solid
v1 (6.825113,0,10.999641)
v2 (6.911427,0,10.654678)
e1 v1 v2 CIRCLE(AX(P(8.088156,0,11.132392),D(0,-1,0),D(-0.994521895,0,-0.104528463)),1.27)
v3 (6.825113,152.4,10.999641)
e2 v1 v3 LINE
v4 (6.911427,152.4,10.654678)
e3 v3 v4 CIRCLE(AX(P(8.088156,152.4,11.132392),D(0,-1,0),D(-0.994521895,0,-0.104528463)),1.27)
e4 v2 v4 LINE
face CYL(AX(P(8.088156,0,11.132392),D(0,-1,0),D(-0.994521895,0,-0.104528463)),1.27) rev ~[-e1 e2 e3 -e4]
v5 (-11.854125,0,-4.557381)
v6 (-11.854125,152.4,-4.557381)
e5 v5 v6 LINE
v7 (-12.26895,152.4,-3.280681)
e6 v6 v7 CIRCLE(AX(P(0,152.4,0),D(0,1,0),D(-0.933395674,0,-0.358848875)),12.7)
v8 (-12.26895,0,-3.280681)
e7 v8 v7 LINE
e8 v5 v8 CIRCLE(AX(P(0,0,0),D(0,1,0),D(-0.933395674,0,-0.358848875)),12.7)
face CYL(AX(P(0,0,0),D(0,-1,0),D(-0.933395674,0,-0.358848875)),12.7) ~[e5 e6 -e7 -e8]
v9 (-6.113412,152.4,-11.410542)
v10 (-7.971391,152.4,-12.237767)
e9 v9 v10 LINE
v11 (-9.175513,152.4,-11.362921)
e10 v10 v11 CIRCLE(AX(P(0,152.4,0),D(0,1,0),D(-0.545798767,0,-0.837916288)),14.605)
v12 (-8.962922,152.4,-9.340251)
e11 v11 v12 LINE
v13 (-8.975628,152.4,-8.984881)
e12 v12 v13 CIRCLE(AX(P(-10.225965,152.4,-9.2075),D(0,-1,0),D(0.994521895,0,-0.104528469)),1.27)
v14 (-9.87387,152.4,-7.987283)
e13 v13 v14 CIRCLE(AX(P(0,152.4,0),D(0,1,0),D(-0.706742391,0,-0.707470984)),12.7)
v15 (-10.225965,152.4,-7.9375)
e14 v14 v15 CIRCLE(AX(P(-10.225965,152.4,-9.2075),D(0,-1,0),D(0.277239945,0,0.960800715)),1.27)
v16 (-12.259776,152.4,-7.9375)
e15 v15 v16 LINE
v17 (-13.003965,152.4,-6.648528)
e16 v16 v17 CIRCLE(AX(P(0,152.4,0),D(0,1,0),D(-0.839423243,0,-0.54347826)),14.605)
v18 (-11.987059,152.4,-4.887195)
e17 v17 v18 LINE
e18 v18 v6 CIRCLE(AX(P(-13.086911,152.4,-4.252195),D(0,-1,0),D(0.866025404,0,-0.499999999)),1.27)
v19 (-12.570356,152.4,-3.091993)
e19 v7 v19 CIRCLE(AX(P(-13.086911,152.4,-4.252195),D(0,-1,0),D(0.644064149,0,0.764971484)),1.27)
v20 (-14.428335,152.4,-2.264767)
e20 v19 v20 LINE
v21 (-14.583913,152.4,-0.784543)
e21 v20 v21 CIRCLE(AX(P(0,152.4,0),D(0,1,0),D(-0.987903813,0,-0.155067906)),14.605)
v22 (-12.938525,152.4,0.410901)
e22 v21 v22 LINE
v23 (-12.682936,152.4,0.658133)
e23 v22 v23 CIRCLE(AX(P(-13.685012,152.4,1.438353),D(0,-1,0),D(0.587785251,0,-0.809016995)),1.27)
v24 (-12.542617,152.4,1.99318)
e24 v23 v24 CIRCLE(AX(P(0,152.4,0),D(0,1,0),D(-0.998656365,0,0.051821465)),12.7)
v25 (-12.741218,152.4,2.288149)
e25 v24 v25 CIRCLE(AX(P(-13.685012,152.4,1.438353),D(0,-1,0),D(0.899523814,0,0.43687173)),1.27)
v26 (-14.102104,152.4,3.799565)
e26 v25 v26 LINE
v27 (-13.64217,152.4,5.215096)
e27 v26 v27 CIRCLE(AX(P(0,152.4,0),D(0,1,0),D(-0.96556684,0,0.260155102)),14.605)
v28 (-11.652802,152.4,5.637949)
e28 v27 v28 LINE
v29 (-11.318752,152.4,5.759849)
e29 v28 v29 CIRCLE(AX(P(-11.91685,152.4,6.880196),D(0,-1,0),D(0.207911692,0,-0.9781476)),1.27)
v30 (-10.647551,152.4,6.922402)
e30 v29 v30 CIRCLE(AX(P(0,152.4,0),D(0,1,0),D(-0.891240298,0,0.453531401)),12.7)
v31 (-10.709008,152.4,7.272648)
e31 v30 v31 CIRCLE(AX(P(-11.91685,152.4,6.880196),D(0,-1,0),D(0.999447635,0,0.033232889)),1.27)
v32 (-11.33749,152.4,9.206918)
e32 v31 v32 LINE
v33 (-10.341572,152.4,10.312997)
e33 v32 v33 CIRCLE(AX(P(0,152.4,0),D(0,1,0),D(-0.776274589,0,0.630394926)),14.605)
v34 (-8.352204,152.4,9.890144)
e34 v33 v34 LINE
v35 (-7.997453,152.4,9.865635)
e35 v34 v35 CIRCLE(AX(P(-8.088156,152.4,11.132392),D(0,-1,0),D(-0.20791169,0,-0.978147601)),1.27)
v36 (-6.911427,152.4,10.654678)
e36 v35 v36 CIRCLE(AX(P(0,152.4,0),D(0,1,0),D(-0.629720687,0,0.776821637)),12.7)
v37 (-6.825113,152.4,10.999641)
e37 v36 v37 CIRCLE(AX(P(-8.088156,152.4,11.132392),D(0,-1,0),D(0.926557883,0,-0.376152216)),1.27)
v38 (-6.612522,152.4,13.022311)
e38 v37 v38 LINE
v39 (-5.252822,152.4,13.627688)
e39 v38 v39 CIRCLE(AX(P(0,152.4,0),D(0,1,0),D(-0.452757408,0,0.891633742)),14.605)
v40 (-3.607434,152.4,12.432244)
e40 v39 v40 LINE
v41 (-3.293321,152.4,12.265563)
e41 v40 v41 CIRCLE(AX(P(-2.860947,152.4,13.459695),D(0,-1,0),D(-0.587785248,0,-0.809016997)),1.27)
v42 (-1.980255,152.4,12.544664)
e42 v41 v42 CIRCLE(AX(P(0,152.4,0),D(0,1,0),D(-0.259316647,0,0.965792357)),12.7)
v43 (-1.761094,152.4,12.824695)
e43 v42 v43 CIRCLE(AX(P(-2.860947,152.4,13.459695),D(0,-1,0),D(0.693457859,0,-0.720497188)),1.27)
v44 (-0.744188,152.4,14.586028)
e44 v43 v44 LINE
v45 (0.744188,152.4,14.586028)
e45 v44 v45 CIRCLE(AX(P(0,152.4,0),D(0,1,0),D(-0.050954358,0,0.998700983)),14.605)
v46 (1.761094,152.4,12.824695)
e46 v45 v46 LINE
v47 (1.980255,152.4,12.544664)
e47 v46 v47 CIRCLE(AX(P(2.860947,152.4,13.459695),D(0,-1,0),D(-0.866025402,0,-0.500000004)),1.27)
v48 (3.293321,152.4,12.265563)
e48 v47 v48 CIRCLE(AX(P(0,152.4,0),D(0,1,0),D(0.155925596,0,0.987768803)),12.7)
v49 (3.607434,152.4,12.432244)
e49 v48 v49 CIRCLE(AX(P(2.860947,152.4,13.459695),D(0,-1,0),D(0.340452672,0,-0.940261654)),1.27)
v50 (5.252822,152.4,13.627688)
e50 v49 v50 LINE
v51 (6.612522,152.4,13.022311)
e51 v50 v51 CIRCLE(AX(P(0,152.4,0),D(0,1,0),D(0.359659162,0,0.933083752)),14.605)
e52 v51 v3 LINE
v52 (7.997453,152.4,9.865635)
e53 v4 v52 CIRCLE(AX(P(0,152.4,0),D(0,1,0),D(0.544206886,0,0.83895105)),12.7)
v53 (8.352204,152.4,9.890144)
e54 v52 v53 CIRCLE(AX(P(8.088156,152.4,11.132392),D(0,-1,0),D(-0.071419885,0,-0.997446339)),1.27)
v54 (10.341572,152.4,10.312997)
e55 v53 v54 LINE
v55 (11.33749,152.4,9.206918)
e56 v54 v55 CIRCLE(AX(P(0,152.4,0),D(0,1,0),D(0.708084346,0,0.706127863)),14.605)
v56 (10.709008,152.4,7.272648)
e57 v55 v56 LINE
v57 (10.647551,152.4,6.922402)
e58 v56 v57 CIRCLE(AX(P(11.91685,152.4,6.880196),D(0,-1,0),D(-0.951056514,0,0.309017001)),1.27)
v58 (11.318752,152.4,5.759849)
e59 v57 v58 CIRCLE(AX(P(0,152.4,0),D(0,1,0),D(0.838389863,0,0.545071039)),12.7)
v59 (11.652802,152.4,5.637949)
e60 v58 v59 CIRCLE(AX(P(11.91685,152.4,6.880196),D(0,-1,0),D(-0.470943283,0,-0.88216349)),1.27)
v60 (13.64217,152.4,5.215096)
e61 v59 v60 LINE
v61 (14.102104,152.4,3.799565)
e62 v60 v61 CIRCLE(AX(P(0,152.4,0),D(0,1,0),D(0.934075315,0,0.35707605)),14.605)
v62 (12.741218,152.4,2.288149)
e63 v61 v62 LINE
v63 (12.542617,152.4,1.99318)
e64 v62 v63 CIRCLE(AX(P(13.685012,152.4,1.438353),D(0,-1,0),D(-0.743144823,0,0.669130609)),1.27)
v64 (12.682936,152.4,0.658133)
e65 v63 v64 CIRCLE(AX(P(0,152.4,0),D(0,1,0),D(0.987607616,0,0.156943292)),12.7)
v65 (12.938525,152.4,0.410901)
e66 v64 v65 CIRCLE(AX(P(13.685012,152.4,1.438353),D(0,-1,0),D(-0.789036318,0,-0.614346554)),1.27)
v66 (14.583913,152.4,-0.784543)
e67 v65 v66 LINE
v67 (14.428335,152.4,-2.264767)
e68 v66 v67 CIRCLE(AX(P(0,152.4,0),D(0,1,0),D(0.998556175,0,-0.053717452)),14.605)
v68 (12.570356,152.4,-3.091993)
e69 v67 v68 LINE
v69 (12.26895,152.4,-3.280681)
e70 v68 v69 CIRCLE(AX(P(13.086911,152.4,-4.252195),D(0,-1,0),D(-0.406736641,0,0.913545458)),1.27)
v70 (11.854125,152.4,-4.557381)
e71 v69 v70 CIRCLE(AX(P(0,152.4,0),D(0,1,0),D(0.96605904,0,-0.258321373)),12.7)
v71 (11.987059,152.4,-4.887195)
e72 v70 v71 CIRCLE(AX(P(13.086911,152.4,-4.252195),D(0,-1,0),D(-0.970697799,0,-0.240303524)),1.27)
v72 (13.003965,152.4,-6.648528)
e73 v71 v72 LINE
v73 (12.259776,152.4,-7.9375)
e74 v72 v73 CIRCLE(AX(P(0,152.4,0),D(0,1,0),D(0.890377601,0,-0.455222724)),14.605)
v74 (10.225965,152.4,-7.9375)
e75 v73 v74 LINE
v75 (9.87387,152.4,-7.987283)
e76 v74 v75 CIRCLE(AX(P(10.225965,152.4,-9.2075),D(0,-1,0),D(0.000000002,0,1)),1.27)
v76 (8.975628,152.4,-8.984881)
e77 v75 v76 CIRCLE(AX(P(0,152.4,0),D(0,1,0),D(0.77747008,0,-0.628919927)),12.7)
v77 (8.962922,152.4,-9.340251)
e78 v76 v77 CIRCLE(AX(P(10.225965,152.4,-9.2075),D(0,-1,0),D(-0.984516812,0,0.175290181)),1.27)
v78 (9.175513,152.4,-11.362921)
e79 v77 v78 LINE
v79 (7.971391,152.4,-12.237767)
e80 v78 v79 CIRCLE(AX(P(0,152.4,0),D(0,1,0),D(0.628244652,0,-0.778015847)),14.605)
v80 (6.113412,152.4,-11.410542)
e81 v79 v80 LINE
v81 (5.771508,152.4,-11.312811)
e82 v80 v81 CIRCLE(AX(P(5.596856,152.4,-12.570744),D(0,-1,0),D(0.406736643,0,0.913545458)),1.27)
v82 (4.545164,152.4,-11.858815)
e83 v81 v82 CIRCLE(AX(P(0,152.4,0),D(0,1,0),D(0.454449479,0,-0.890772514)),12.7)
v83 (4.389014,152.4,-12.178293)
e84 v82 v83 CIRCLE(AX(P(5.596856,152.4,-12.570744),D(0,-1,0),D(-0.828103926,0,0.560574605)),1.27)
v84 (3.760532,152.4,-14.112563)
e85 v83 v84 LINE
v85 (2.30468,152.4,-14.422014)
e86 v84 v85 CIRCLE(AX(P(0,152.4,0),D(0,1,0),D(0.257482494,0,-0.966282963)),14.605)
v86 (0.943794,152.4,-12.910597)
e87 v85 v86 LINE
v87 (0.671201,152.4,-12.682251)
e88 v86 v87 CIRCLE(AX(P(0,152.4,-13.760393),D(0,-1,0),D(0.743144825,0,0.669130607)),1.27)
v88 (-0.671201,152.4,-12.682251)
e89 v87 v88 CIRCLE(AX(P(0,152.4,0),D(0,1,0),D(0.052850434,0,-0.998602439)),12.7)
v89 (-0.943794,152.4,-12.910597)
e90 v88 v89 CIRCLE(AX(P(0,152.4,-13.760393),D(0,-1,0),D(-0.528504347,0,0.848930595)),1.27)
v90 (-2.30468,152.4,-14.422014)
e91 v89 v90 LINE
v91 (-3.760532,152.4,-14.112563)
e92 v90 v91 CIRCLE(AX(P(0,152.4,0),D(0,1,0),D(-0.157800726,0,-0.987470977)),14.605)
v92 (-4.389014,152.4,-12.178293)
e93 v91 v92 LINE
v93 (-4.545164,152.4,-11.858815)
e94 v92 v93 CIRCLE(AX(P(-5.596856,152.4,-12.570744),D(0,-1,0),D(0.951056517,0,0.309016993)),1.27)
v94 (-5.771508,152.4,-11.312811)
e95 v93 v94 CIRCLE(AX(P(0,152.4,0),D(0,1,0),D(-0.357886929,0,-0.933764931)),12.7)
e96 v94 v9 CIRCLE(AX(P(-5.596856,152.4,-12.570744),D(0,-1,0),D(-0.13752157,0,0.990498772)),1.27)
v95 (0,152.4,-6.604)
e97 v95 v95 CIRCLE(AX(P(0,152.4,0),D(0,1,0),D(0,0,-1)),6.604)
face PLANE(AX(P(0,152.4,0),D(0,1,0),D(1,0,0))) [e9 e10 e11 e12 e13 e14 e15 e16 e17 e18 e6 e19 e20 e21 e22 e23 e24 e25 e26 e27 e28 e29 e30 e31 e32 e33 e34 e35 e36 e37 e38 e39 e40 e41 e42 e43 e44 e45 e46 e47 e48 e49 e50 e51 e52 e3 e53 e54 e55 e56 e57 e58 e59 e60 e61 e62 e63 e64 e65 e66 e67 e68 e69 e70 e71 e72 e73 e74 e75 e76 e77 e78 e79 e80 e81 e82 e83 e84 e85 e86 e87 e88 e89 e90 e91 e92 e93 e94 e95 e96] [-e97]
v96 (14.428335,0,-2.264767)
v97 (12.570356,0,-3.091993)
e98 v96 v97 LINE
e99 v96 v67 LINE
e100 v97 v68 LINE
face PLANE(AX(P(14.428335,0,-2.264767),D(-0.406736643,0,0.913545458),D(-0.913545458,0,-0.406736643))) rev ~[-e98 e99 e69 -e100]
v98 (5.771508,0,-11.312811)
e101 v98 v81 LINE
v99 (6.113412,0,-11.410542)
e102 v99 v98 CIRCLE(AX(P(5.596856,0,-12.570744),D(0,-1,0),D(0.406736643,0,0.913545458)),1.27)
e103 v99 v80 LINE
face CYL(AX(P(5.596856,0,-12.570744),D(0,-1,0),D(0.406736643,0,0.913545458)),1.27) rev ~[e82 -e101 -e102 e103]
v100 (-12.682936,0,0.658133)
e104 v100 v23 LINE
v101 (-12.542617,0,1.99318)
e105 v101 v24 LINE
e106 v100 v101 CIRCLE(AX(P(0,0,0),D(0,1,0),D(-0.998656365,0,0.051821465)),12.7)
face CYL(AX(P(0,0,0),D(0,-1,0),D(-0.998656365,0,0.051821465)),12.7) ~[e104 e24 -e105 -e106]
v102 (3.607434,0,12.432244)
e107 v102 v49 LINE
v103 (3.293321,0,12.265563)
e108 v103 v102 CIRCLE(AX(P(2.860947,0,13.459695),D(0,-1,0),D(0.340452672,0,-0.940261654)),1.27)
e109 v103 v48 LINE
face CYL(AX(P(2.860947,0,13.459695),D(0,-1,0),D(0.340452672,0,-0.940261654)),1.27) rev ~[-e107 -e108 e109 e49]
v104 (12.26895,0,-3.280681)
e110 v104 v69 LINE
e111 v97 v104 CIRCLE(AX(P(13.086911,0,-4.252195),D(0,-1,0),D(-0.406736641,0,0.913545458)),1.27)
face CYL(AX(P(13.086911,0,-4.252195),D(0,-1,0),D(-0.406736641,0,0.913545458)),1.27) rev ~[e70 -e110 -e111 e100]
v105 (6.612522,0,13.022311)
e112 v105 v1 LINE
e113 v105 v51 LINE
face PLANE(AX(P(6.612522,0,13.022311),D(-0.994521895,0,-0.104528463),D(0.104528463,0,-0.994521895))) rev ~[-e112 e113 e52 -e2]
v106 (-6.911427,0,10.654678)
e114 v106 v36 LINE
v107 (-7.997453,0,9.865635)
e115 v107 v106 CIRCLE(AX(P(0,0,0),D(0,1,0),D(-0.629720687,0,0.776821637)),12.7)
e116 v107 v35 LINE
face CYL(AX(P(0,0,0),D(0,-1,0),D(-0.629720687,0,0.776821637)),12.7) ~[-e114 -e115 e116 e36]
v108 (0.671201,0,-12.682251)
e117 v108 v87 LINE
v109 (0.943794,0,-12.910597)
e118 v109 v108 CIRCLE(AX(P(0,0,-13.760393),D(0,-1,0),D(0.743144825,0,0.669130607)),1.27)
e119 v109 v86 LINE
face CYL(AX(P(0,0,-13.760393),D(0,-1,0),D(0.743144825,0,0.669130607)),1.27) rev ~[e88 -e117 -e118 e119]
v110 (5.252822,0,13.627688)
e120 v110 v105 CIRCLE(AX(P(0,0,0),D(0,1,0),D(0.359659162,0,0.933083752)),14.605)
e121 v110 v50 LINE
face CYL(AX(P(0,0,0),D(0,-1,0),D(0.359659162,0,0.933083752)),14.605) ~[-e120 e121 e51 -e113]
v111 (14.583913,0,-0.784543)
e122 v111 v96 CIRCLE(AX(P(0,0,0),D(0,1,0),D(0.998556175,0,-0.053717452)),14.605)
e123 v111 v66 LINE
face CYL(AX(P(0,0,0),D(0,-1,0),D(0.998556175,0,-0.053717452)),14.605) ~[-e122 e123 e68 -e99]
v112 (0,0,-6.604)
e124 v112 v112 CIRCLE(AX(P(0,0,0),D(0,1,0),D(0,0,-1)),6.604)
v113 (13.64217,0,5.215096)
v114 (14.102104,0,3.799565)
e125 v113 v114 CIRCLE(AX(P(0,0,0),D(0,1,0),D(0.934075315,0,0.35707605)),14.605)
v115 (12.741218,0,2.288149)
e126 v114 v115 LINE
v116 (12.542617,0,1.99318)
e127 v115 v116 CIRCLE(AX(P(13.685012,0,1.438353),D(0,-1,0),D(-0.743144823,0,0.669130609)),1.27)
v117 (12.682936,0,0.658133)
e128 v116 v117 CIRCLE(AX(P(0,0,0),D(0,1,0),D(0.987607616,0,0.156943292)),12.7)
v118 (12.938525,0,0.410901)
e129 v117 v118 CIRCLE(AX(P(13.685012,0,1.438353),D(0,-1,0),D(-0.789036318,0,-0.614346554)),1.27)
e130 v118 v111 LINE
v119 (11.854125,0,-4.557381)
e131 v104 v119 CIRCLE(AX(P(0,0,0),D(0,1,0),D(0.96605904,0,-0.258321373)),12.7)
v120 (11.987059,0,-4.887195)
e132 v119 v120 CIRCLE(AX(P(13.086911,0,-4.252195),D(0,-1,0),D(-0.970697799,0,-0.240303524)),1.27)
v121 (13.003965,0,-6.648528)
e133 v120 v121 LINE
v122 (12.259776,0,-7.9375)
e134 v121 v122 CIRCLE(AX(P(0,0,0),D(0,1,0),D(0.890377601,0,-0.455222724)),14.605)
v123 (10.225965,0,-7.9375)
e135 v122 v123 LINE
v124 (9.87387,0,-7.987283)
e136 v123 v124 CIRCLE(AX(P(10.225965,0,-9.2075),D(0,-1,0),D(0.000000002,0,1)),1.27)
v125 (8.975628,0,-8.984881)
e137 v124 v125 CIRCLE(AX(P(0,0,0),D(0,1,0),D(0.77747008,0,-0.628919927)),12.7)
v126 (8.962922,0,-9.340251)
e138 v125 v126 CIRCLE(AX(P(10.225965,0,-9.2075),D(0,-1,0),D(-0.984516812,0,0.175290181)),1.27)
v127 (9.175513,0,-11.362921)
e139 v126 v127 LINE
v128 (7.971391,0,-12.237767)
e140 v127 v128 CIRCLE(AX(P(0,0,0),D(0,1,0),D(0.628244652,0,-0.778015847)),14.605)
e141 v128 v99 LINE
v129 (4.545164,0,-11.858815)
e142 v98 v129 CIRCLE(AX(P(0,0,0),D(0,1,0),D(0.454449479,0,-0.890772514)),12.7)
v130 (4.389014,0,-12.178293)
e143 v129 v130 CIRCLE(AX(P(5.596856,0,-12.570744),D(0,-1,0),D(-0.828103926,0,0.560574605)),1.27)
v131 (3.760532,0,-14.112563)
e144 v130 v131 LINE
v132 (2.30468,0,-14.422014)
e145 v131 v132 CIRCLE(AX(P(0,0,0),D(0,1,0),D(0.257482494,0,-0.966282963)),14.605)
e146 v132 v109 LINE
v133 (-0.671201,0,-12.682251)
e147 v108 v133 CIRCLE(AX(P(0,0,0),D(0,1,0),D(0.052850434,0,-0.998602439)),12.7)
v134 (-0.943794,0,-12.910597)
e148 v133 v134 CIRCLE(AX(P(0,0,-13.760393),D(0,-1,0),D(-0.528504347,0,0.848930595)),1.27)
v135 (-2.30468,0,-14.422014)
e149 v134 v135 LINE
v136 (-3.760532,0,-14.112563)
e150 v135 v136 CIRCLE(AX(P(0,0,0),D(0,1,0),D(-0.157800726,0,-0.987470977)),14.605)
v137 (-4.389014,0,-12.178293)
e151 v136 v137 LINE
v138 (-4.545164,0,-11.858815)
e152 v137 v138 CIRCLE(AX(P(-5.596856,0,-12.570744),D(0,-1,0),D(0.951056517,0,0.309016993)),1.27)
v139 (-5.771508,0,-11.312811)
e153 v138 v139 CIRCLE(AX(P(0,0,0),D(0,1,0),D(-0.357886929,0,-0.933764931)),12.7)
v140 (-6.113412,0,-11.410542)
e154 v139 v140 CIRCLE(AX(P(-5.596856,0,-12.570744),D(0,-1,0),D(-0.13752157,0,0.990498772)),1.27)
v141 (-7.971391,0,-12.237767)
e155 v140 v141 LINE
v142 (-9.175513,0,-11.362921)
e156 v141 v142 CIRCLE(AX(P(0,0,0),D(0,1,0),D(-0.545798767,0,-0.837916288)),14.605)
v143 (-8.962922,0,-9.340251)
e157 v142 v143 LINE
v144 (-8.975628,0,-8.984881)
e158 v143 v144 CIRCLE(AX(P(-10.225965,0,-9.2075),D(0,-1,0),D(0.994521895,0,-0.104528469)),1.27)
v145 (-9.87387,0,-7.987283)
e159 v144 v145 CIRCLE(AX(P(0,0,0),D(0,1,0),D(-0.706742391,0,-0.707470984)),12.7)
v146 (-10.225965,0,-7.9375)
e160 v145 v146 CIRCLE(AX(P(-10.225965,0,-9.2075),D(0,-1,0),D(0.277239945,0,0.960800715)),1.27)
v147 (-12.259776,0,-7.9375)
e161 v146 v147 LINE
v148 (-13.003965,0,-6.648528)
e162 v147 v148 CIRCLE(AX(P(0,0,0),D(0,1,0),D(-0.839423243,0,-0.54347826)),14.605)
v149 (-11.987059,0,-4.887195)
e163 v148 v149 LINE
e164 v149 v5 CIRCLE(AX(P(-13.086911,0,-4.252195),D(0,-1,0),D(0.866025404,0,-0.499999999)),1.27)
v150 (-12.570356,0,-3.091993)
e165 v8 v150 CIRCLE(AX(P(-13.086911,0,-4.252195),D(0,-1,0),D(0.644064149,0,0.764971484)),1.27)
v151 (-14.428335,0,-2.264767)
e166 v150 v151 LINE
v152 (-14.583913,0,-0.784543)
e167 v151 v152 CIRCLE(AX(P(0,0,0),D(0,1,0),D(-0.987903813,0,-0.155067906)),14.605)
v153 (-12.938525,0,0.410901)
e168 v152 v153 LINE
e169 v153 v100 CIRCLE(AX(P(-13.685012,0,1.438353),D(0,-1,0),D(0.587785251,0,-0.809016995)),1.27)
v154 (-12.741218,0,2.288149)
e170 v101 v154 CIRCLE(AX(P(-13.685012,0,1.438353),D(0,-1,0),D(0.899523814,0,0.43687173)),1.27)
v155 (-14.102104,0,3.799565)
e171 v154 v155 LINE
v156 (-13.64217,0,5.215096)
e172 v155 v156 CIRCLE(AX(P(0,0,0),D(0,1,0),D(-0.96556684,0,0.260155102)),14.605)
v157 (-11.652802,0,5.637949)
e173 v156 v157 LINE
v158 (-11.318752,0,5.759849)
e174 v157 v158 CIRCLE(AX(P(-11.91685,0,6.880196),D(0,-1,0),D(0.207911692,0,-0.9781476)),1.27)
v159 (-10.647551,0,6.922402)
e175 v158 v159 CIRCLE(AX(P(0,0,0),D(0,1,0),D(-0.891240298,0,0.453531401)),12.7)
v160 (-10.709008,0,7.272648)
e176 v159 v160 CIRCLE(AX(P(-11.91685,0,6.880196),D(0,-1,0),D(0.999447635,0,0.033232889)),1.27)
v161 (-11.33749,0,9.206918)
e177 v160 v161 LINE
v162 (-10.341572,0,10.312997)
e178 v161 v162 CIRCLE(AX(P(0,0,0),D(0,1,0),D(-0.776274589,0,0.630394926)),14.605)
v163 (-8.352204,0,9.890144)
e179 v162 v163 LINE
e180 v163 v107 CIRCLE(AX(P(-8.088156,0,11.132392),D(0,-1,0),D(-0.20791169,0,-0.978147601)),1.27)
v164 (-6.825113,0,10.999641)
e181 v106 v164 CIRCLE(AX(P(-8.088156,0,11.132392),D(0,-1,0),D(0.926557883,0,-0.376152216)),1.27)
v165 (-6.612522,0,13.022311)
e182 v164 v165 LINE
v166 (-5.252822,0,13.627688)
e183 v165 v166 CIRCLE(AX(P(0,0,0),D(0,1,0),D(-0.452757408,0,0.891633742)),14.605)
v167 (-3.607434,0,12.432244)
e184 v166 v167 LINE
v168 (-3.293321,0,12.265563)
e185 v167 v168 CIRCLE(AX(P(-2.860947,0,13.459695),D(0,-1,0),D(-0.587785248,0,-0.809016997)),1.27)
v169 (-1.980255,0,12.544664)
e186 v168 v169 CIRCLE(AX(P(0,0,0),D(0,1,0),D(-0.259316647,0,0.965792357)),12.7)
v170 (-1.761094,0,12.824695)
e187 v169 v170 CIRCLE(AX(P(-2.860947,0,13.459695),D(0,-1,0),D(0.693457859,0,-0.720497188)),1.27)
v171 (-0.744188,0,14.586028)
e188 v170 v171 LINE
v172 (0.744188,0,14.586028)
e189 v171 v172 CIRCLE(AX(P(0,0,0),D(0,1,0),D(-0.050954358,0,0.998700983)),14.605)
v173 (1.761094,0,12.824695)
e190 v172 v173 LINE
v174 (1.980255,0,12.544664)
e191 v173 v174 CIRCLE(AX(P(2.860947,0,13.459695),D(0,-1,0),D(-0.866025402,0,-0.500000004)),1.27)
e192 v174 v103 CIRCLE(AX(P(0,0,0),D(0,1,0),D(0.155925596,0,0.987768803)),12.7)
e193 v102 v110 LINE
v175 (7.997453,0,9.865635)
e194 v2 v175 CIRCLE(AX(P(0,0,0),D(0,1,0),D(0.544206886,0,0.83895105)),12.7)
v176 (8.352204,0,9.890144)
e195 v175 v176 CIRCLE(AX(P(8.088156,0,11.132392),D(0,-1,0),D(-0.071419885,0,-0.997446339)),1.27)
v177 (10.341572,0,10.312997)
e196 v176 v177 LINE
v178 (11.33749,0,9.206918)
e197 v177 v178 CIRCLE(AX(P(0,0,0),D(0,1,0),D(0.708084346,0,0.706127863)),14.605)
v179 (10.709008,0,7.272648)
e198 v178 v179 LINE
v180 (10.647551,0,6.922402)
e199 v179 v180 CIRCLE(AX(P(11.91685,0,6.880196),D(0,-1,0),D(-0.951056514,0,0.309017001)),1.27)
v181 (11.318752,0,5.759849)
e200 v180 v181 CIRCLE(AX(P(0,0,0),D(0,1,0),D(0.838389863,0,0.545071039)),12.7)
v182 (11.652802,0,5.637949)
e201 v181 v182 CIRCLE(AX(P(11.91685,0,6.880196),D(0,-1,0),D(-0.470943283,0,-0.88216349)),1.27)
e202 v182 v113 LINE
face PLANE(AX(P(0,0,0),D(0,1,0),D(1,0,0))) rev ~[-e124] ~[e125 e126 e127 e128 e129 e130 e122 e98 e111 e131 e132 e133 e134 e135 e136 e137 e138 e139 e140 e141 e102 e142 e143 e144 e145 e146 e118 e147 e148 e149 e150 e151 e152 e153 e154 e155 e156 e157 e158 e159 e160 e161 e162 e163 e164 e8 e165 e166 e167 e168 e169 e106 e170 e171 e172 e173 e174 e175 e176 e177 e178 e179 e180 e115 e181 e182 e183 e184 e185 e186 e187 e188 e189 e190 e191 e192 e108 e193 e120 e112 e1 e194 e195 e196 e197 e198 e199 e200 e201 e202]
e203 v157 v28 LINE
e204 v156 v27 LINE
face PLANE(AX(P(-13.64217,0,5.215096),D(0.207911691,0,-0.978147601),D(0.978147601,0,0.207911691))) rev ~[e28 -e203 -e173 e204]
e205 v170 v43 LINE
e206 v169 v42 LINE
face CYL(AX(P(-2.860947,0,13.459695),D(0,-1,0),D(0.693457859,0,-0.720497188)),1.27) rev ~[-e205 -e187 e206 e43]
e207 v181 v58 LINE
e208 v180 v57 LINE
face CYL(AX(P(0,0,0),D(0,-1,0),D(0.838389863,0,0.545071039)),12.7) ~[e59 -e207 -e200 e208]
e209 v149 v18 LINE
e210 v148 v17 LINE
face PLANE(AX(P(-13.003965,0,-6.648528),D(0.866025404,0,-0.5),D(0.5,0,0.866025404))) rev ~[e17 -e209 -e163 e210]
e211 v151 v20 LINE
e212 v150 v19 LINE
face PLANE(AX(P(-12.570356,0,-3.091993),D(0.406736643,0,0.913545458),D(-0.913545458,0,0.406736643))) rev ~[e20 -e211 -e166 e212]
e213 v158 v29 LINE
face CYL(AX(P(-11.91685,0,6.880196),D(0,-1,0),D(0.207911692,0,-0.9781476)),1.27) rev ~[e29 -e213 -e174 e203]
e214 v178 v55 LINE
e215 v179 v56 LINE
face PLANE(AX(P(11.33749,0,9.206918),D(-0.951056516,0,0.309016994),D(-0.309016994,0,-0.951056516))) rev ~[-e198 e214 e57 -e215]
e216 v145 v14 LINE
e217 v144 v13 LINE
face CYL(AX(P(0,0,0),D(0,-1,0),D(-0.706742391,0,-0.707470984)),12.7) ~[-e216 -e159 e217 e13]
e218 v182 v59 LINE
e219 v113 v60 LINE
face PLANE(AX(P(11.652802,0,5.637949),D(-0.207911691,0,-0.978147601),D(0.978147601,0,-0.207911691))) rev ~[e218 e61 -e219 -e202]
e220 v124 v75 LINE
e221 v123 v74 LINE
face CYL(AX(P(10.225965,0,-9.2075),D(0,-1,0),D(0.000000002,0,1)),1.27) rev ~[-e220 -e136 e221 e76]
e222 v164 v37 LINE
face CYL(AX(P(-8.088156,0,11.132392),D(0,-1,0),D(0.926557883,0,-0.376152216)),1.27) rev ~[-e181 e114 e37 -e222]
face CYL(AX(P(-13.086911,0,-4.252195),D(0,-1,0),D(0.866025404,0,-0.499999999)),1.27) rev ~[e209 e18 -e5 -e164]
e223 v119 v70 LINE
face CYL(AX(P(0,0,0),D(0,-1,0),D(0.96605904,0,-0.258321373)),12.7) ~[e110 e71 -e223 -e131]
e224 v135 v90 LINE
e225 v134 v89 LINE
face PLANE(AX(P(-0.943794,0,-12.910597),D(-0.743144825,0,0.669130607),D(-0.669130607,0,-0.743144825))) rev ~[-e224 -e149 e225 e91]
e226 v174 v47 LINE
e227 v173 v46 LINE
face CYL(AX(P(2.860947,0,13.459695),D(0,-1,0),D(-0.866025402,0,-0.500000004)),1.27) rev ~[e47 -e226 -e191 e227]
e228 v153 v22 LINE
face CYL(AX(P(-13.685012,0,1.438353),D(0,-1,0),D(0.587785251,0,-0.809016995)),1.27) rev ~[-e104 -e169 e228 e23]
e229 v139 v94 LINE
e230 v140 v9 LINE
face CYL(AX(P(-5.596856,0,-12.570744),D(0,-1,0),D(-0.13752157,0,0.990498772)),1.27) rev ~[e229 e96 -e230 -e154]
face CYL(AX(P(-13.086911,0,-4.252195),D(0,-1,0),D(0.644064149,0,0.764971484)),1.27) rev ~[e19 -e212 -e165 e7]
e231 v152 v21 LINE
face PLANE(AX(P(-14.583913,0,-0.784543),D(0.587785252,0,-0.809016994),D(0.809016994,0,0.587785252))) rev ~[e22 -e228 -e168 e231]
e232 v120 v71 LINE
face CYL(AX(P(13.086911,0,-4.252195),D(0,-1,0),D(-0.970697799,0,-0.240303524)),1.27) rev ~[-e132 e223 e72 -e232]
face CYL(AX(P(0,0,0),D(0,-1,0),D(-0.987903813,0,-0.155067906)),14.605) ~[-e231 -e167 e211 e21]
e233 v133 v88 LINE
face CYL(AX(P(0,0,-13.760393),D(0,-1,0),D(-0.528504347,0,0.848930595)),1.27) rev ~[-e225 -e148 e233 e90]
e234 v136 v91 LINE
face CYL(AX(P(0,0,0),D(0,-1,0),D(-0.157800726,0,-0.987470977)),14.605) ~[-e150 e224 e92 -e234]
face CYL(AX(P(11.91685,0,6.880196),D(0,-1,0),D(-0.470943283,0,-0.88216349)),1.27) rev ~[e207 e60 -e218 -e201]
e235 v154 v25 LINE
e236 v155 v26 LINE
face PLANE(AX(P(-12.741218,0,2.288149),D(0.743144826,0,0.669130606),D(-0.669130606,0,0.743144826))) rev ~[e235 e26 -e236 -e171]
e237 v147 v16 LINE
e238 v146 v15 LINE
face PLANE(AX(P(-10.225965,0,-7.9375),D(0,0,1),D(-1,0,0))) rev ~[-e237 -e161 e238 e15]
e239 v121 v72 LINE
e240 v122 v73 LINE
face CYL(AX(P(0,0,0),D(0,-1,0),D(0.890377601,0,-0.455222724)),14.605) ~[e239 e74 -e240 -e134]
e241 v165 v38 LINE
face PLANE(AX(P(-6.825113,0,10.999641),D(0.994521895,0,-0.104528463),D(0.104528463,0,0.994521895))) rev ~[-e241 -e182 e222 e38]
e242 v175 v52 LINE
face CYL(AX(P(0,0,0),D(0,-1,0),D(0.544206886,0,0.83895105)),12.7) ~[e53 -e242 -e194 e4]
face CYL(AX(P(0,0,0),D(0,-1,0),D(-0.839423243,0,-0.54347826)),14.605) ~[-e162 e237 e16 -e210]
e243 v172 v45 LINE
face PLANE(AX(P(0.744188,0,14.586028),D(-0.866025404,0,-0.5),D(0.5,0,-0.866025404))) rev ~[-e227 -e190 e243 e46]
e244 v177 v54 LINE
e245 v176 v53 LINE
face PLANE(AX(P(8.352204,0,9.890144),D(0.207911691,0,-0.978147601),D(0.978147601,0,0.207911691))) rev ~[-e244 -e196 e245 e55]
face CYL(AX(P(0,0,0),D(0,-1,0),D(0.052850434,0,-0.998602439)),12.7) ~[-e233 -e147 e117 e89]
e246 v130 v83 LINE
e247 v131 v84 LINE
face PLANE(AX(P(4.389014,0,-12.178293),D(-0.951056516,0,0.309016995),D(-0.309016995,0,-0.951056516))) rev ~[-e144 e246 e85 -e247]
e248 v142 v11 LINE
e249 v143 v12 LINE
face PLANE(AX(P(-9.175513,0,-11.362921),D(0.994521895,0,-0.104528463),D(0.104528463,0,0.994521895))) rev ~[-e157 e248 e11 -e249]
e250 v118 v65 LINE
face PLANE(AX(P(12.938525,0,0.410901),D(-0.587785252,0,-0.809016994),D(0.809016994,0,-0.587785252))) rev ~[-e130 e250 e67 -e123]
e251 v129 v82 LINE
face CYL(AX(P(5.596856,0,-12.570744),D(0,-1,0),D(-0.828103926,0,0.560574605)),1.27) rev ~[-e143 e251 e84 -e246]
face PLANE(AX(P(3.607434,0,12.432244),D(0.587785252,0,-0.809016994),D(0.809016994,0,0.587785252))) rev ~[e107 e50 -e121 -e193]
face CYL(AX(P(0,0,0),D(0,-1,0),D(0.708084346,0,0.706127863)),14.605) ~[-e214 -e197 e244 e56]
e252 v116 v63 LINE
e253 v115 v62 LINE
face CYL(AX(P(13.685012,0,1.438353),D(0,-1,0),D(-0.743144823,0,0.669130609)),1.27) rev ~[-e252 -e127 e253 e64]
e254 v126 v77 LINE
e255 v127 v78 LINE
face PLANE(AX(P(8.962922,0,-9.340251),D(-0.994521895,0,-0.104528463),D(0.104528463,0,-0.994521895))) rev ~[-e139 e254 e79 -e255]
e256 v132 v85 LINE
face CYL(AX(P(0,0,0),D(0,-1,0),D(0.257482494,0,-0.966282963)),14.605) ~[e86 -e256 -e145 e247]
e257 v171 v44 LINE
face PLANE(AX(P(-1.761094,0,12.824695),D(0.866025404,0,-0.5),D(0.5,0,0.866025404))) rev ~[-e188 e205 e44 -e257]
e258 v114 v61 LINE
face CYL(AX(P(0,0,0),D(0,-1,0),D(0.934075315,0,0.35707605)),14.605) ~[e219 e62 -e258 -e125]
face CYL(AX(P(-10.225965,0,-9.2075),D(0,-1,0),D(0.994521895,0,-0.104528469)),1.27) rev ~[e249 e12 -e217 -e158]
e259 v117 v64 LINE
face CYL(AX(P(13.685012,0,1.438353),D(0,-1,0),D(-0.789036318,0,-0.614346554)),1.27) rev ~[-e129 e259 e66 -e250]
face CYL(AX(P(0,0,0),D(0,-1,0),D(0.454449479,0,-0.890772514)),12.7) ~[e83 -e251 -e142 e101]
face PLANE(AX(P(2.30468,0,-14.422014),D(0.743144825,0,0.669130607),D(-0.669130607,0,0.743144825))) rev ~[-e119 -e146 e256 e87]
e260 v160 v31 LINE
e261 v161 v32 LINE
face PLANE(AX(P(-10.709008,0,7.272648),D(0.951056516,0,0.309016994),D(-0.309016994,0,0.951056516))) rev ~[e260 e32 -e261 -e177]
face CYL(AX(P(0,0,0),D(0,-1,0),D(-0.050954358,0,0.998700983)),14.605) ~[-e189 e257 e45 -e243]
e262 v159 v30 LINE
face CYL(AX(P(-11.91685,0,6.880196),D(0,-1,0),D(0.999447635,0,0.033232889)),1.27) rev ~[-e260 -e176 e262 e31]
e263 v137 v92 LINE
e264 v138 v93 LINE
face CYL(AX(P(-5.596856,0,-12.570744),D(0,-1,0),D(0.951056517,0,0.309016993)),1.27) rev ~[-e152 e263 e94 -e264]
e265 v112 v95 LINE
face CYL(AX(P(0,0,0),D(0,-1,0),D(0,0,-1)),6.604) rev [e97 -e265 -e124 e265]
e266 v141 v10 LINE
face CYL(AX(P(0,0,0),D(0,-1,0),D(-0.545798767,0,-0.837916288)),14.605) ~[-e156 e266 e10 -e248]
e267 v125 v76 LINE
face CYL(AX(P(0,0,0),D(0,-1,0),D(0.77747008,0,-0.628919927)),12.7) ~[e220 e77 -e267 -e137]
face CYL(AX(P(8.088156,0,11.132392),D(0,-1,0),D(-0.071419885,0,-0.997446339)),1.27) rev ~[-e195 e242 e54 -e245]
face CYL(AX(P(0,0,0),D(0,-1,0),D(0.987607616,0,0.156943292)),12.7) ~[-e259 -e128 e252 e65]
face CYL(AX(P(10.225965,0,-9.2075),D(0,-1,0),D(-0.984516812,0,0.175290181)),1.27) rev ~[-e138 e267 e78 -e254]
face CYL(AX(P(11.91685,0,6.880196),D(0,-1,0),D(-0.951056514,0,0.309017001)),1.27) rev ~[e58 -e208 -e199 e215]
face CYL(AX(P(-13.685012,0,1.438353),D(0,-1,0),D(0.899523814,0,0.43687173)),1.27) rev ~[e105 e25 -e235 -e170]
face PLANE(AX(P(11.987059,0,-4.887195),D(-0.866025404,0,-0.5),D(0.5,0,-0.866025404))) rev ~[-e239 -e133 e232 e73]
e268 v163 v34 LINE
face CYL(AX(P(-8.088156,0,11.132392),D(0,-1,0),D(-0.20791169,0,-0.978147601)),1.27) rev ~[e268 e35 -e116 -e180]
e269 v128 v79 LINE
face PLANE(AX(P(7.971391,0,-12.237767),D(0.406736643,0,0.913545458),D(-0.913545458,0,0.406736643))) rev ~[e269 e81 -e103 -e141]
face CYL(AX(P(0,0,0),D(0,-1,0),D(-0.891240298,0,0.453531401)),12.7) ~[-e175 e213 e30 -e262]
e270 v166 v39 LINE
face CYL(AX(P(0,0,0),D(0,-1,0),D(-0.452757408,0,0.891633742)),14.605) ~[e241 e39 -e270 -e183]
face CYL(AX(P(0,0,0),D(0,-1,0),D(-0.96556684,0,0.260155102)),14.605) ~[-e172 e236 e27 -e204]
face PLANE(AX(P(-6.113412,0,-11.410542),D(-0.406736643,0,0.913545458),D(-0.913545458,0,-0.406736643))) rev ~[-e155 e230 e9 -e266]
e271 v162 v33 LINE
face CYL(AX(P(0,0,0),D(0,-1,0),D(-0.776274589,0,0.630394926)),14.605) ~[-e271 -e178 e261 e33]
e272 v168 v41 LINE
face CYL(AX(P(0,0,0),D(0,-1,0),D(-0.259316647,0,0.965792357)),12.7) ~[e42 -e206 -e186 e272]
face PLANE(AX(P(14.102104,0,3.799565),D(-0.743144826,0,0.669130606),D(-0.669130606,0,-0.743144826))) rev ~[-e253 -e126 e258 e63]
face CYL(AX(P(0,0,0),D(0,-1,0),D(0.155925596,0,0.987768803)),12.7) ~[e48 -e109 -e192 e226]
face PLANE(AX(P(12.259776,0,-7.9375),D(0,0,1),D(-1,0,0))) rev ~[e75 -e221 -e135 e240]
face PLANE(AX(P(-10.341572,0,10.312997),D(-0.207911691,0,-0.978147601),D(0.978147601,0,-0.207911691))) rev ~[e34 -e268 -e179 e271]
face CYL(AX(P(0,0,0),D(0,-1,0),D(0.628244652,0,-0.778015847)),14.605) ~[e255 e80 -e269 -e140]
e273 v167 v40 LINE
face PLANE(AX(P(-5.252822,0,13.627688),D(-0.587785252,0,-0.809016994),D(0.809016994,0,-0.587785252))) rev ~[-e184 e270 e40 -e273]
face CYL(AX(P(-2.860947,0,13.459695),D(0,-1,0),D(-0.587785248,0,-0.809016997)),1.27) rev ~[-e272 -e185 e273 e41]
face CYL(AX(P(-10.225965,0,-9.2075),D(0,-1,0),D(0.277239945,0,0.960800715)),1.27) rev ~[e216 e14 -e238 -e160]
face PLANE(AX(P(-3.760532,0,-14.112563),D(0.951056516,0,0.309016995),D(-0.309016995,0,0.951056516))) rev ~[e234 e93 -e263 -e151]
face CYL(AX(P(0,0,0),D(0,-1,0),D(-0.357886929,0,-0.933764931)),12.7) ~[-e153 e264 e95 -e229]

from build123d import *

# Parameters (mm, degrees)
SKETCH1_R           = 6.604
BOSS_EXTRUDE3_DEPTH = 152.4


with BuildPart() as part:
    # Sketch1 → Boss-Extrude3 (new body)
    with BuildSketch(Plane(origin=(0, 0, 0), x_dir=(1, 0, 0), z_dir=(0, 1, 0))):
        with BuildLine():
            Line((-1.761094277, -12.824695235), (-0.744188415, -14.586027856))
            ThreePointArc((-0.744188415, -14.586027856), (0, -14.605), (0.744188415, -14.586027856))
            Line((0.744188415, -14.586027856), (1.761094277, -12.824695235))
            ThreePointArc((1.761094277, -12.824695235), (1.86082516, -12.676971002), (1.980255064, -12.544663801))
            ThreePointArc((1.980255064, -12.544663801), (2.640478473, -12.422474529), (3.293321424, -12.26556293))
            ThreePointArc((3.293321424, -12.26556293), (3.456240258, -12.337855055), (3.607433811, -12.432243652))
            Line((3.607433811, -12.432243652), (5.25282206, -13.62768819))
            ThreePointArc((5.25282206, -13.62768819), (5.940388672, -13.342331409), (6.612521952, -13.022310795))
            Line((6.612521952, -13.022310795), (6.825113166, -10.999640503))
            ThreePointArc((6.825113166, -10.999640503), (6.856137002, -10.824123497), (6.911427462, -10.654678336))
            ThreePointArc((6.911427462, -10.654678336), (7.464872704, -10.274515829), (7.997452719, -9.8656348))
            ThreePointArc((7.997452719, -9.8656348), (8.175690336, -9.865411882), (8.35220382, -9.890144198))
            Line((8.35220382, -9.890144198), (10.34157188, -10.312997433))
            ThreePointArc((10.34157188, -10.312997433), (10.853630176, -9.772652506), (11.33749037, -9.206917894))
            Line((11.33749037, -9.206917894), (10.709007984, -7.272647999))
            ThreePointArc((10.709007984, -7.272647999), (10.66596047, -7.099686705), (10.647551263, -6.922402191))
            ThreePointArc((10.647551263, -6.922402191), (10.998522628, -6.35), (11.318751785, -5.759848786))
            ThreePointArc((11.318751785, -5.759848786), (11.481489281, -5.687149371), (11.652801912, -5.637948964))
            Line((11.652801912, -5.637948964), (13.642169972, -5.215095729))
            ThreePointArc((13.642169972, -5.215095729), (13.89018042, -4.513193203), (14.102103706, -3.799565247))
            Line((14.102103706, -3.799565247), (12.741218033, -2.288148587))
            ThreePointArc((12.741218033, -2.288148587), (12.631542476, -2.147649583), (12.542616721, -1.99317982))
            ThreePointArc((12.542616721, -1.99317982), (12.630428071, -1.327511483), (12.682935839, -0.658132591))
            ThreePointArc((12.682935839, -0.658132591), (12.802034423, -0.525527067), (12.938524691, -0.410901134))
            Line((12.938524691, -0.410901134), (14.58391294, 0.784543404))
            ThreePointArc((14.58391294, 0.784543404), (14.524992282, 1.526638206), (14.428335197, 2.264766749))
            Line((14.428335197, 2.264766749), (12.570355734, 3.091992503))
            ThreePointArc((12.570355734, 3.091992503), (12.413016034, 3.175735662), (12.268949801, 3.280681449))
            ThreePointArc((12.268949801, 3.280681449), (12.078417757, 3.924515829), (11.854125066, 4.557380709))
            ThreePointArc((11.854125066, 4.557380709), (11.908991511, 4.726963641), (11.987059008, 4.887195235))
            Line((11.987059008, 4.887195235), (13.003964871, 6.648527856))
            ThreePointArc((13.003964871, 6.648527856), (12.648301022, 7.3025), (12.259776456, 7.9375))
            Line((12.259776456, 7.9375), (10.22596473, 7.9375))
            ThreePointArc((10.22596473, 7.9375), (10.048166351, 7.950007361), (9.873870001, 7.987283092))
            ThreePointArc((9.873870001, 7.987283092), (9.437939284, 8.497958701), (8.975628378, 8.984881481))
            ThreePointArc((8.975628378, 8.984881481), (8.956775776, 9.162119392), (8.962921923, 9.340251148))
            Line((8.962921923, 9.340251148), (9.175513137, 11.362921441))
            ThreePointArc((9.175513137, 11.362921441), (8.58460361, 11.815693203), (7.971390989, 12.237767391))
            Line((7.971390989, 12.237767391), (6.113411525, 11.410541637))
            ThreePointArc((6.113411525, 11.410541637), (5.945897421, 11.349650564), (5.771508377, 11.312810926))
            ThreePointArc((5.771508377, 11.312810926), (5.165555367, 11.602027312), (4.545164002, 11.85881462))
            ThreePointArc((4.545164002, 11.85881462), (4.455852141, 12.013061465), (4.389014213, 12.178292785))
            Line((4.389014213, 12.178292785), (3.760531826, 14.11256268))
            ThreePointArc((3.760531826, 14.11256268), (3.036550244, 14.285845709), (2.304679602, 14.422013623))
            Line((2.304679602, 14.422013623), (0.943793928, 12.910596963))
            ThreePointArc((0.943793928, 12.910596963), (0.81552881, 12.786836076), (0.671200521, 12.682250978))
            ThreePointArc((0.671200521, 12.682250978), (0, 12.7), (-0.671200521, 12.682250978))
            ThreePointArc((-0.671200521, 12.682250978), (-0.81552881, 12.786836076), (-0.943793928, 12.910596963))
            Line((-0.943793928, 12.910596963), (-2.304679602, 14.422013623))
            ThreePointArc((-2.304679602, 14.422013623), (-3.036550244, 14.285845709), (-3.760531826, 14.11256268))
            Line((-3.760531826, 14.11256268), (-4.389014213, 12.178292785))
            ThreePointArc((-4.389014213, 12.178292785), (-4.455852141, 12.013061465), (-4.545164002, 11.85881462))
            ThreePointArc((-4.545164002, 11.85881462), (-5.165555367, 11.602027312), (-5.771508377, 11.312810926))
            ThreePointArc((-5.771508377, 11.312810926), (-5.945897421, 11.349650564), (-6.113411525, 11.410541637))
            Line((-6.113411525, 11.410541637), (-7.971390989, 12.237767391))
            ThreePointArc((-7.971390989, 12.237767391), (-8.58460361, 11.815693203), (-9.175513137, 11.362921441))
            Line((-9.175513137, 11.362921441), (-8.962921923, 9.340251148))
            ThreePointArc((-8.962921923, 9.340251148), (-8.956775776, 9.162119392), (-8.975628378, 8.984881481))
            ThreePointArc((-8.975628378, 8.984881481), (-9.437939284, 8.497958701), (-9.873870001, 7.987283092))
            ThreePointArc((-9.873870001, 7.987283092), (-10.048166351, 7.950007361), (-10.22596473, 7.9375))
            Line((-10.22596473, 7.9375), (-12.259776456, 7.9375))
            ThreePointArc((-12.259776456, 7.9375), (-12.648301022, 7.3025), (-13.003964871, 6.648527856))
            Line((-13.003964871, 6.648527856), (-11.987059008, 4.887195235))
            ThreePointArc((-11.987059008, 4.887195235), (-11.908991511, 4.726963641), (-11.854125066, 4.557380709))
            ThreePointArc((-11.854125066, 4.557380709), (-12.078417757, 3.924515829), (-12.268949801, 3.280681449))
            ThreePointArc((-12.268949801, 3.280681449), (-12.413016034, 3.175735662), (-12.570355734, 3.091992503))
            Line((-12.570355734, 3.091992503), (-14.428335197, 2.264766749))
            ThreePointArc((-14.428335197, 2.264766749), (-14.524992282, 1.526638206), (-14.58391294, 0.784543404))
            Line((-14.58391294, 0.784543404), (-12.938524691, -0.410901134))
            ThreePointArc((-12.938524691, -0.410901134), (-12.802034423, -0.525527067), (-12.682935839, -0.658132591))
            ThreePointArc((-12.682935839, -0.658132591), (-12.630428071, -1.327511483), (-12.542616721, -1.99317982))
            ThreePointArc((-12.542616721, -1.99317982), (-12.631542476, -2.147649583), (-12.741218033, -2.288148587))
            Line((-12.741218033, -2.288148587), (-14.102103706, -3.799565247))
            ThreePointArc((-14.102103706, -3.799565247), (-13.89018042, -4.513193203), (-13.642169972, -5.215095729))
            Line((-13.642169972, -5.215095729), (-11.652801912, -5.637948964))
            ThreePointArc((-11.652801912, -5.637948964), (-11.481489281, -5.687149371), (-11.318751785, -5.759848786))
            ThreePointArc((-11.318751785, -5.759848786), (-10.998522628, -6.35), (-10.647551263, -6.922402191))
            ThreePointArc((-10.647551263, -6.922402191), (-10.66596047, -7.099686705), (-10.709007984, -7.272647999))
            Line((-10.709007984, -7.272647999), (-11.33749037, -9.206917894))
            ThreePointArc((-11.33749037, -9.206917894), (-10.853630176, -9.772652506), (-10.34157188, -10.312997433))
            Line((-10.34157188, -10.312997433), (-8.35220382, -9.890144198))
            ThreePointArc((-8.35220382, -9.890144198), (-8.175690336, -9.865411882), (-7.997452719, -9.8656348))
            ThreePointArc((-7.997452719, -9.8656348), (-7.464872704, -10.274515829), (-6.911427462, -10.654678336))
            ThreePointArc((-6.911427462, -10.654678336), (-6.856137002, -10.824123497), (-6.825113166, -10.999640503))
            Line((-6.825113166, -10.999640503), (-6.612521952, -13.022310795))
            ThreePointArc((-6.612521952, -13.022310795), (-5.940388672, -13.342331409), (-5.25282206, -13.62768819))
            Line((-5.25282206, -13.62768819), (-3.607433811, -12.432243652))
            ThreePointArc((-3.607433811, -12.432243652), (-3.456240258, -12.337855055), (-3.293321424, -12.26556293))
            ThreePointArc((-3.293321424, -12.26556293), (-2.640478473, -12.422474529), (-1.980255064, -12.544663801))
            ThreePointArc((-1.980255064, -12.544663801), (-1.86082516, -12.676971002), (-1.761094277, -12.824695235))
        make_face()
        with Locations(Location((0, 0, 0), (0, 0, 90))):
            Circle(SKETCH1_R, mode=Mode.SUBTRACT)
    extrude(amount=BOSS_EXTRUDE3_DEPTH)


solid = part.part
